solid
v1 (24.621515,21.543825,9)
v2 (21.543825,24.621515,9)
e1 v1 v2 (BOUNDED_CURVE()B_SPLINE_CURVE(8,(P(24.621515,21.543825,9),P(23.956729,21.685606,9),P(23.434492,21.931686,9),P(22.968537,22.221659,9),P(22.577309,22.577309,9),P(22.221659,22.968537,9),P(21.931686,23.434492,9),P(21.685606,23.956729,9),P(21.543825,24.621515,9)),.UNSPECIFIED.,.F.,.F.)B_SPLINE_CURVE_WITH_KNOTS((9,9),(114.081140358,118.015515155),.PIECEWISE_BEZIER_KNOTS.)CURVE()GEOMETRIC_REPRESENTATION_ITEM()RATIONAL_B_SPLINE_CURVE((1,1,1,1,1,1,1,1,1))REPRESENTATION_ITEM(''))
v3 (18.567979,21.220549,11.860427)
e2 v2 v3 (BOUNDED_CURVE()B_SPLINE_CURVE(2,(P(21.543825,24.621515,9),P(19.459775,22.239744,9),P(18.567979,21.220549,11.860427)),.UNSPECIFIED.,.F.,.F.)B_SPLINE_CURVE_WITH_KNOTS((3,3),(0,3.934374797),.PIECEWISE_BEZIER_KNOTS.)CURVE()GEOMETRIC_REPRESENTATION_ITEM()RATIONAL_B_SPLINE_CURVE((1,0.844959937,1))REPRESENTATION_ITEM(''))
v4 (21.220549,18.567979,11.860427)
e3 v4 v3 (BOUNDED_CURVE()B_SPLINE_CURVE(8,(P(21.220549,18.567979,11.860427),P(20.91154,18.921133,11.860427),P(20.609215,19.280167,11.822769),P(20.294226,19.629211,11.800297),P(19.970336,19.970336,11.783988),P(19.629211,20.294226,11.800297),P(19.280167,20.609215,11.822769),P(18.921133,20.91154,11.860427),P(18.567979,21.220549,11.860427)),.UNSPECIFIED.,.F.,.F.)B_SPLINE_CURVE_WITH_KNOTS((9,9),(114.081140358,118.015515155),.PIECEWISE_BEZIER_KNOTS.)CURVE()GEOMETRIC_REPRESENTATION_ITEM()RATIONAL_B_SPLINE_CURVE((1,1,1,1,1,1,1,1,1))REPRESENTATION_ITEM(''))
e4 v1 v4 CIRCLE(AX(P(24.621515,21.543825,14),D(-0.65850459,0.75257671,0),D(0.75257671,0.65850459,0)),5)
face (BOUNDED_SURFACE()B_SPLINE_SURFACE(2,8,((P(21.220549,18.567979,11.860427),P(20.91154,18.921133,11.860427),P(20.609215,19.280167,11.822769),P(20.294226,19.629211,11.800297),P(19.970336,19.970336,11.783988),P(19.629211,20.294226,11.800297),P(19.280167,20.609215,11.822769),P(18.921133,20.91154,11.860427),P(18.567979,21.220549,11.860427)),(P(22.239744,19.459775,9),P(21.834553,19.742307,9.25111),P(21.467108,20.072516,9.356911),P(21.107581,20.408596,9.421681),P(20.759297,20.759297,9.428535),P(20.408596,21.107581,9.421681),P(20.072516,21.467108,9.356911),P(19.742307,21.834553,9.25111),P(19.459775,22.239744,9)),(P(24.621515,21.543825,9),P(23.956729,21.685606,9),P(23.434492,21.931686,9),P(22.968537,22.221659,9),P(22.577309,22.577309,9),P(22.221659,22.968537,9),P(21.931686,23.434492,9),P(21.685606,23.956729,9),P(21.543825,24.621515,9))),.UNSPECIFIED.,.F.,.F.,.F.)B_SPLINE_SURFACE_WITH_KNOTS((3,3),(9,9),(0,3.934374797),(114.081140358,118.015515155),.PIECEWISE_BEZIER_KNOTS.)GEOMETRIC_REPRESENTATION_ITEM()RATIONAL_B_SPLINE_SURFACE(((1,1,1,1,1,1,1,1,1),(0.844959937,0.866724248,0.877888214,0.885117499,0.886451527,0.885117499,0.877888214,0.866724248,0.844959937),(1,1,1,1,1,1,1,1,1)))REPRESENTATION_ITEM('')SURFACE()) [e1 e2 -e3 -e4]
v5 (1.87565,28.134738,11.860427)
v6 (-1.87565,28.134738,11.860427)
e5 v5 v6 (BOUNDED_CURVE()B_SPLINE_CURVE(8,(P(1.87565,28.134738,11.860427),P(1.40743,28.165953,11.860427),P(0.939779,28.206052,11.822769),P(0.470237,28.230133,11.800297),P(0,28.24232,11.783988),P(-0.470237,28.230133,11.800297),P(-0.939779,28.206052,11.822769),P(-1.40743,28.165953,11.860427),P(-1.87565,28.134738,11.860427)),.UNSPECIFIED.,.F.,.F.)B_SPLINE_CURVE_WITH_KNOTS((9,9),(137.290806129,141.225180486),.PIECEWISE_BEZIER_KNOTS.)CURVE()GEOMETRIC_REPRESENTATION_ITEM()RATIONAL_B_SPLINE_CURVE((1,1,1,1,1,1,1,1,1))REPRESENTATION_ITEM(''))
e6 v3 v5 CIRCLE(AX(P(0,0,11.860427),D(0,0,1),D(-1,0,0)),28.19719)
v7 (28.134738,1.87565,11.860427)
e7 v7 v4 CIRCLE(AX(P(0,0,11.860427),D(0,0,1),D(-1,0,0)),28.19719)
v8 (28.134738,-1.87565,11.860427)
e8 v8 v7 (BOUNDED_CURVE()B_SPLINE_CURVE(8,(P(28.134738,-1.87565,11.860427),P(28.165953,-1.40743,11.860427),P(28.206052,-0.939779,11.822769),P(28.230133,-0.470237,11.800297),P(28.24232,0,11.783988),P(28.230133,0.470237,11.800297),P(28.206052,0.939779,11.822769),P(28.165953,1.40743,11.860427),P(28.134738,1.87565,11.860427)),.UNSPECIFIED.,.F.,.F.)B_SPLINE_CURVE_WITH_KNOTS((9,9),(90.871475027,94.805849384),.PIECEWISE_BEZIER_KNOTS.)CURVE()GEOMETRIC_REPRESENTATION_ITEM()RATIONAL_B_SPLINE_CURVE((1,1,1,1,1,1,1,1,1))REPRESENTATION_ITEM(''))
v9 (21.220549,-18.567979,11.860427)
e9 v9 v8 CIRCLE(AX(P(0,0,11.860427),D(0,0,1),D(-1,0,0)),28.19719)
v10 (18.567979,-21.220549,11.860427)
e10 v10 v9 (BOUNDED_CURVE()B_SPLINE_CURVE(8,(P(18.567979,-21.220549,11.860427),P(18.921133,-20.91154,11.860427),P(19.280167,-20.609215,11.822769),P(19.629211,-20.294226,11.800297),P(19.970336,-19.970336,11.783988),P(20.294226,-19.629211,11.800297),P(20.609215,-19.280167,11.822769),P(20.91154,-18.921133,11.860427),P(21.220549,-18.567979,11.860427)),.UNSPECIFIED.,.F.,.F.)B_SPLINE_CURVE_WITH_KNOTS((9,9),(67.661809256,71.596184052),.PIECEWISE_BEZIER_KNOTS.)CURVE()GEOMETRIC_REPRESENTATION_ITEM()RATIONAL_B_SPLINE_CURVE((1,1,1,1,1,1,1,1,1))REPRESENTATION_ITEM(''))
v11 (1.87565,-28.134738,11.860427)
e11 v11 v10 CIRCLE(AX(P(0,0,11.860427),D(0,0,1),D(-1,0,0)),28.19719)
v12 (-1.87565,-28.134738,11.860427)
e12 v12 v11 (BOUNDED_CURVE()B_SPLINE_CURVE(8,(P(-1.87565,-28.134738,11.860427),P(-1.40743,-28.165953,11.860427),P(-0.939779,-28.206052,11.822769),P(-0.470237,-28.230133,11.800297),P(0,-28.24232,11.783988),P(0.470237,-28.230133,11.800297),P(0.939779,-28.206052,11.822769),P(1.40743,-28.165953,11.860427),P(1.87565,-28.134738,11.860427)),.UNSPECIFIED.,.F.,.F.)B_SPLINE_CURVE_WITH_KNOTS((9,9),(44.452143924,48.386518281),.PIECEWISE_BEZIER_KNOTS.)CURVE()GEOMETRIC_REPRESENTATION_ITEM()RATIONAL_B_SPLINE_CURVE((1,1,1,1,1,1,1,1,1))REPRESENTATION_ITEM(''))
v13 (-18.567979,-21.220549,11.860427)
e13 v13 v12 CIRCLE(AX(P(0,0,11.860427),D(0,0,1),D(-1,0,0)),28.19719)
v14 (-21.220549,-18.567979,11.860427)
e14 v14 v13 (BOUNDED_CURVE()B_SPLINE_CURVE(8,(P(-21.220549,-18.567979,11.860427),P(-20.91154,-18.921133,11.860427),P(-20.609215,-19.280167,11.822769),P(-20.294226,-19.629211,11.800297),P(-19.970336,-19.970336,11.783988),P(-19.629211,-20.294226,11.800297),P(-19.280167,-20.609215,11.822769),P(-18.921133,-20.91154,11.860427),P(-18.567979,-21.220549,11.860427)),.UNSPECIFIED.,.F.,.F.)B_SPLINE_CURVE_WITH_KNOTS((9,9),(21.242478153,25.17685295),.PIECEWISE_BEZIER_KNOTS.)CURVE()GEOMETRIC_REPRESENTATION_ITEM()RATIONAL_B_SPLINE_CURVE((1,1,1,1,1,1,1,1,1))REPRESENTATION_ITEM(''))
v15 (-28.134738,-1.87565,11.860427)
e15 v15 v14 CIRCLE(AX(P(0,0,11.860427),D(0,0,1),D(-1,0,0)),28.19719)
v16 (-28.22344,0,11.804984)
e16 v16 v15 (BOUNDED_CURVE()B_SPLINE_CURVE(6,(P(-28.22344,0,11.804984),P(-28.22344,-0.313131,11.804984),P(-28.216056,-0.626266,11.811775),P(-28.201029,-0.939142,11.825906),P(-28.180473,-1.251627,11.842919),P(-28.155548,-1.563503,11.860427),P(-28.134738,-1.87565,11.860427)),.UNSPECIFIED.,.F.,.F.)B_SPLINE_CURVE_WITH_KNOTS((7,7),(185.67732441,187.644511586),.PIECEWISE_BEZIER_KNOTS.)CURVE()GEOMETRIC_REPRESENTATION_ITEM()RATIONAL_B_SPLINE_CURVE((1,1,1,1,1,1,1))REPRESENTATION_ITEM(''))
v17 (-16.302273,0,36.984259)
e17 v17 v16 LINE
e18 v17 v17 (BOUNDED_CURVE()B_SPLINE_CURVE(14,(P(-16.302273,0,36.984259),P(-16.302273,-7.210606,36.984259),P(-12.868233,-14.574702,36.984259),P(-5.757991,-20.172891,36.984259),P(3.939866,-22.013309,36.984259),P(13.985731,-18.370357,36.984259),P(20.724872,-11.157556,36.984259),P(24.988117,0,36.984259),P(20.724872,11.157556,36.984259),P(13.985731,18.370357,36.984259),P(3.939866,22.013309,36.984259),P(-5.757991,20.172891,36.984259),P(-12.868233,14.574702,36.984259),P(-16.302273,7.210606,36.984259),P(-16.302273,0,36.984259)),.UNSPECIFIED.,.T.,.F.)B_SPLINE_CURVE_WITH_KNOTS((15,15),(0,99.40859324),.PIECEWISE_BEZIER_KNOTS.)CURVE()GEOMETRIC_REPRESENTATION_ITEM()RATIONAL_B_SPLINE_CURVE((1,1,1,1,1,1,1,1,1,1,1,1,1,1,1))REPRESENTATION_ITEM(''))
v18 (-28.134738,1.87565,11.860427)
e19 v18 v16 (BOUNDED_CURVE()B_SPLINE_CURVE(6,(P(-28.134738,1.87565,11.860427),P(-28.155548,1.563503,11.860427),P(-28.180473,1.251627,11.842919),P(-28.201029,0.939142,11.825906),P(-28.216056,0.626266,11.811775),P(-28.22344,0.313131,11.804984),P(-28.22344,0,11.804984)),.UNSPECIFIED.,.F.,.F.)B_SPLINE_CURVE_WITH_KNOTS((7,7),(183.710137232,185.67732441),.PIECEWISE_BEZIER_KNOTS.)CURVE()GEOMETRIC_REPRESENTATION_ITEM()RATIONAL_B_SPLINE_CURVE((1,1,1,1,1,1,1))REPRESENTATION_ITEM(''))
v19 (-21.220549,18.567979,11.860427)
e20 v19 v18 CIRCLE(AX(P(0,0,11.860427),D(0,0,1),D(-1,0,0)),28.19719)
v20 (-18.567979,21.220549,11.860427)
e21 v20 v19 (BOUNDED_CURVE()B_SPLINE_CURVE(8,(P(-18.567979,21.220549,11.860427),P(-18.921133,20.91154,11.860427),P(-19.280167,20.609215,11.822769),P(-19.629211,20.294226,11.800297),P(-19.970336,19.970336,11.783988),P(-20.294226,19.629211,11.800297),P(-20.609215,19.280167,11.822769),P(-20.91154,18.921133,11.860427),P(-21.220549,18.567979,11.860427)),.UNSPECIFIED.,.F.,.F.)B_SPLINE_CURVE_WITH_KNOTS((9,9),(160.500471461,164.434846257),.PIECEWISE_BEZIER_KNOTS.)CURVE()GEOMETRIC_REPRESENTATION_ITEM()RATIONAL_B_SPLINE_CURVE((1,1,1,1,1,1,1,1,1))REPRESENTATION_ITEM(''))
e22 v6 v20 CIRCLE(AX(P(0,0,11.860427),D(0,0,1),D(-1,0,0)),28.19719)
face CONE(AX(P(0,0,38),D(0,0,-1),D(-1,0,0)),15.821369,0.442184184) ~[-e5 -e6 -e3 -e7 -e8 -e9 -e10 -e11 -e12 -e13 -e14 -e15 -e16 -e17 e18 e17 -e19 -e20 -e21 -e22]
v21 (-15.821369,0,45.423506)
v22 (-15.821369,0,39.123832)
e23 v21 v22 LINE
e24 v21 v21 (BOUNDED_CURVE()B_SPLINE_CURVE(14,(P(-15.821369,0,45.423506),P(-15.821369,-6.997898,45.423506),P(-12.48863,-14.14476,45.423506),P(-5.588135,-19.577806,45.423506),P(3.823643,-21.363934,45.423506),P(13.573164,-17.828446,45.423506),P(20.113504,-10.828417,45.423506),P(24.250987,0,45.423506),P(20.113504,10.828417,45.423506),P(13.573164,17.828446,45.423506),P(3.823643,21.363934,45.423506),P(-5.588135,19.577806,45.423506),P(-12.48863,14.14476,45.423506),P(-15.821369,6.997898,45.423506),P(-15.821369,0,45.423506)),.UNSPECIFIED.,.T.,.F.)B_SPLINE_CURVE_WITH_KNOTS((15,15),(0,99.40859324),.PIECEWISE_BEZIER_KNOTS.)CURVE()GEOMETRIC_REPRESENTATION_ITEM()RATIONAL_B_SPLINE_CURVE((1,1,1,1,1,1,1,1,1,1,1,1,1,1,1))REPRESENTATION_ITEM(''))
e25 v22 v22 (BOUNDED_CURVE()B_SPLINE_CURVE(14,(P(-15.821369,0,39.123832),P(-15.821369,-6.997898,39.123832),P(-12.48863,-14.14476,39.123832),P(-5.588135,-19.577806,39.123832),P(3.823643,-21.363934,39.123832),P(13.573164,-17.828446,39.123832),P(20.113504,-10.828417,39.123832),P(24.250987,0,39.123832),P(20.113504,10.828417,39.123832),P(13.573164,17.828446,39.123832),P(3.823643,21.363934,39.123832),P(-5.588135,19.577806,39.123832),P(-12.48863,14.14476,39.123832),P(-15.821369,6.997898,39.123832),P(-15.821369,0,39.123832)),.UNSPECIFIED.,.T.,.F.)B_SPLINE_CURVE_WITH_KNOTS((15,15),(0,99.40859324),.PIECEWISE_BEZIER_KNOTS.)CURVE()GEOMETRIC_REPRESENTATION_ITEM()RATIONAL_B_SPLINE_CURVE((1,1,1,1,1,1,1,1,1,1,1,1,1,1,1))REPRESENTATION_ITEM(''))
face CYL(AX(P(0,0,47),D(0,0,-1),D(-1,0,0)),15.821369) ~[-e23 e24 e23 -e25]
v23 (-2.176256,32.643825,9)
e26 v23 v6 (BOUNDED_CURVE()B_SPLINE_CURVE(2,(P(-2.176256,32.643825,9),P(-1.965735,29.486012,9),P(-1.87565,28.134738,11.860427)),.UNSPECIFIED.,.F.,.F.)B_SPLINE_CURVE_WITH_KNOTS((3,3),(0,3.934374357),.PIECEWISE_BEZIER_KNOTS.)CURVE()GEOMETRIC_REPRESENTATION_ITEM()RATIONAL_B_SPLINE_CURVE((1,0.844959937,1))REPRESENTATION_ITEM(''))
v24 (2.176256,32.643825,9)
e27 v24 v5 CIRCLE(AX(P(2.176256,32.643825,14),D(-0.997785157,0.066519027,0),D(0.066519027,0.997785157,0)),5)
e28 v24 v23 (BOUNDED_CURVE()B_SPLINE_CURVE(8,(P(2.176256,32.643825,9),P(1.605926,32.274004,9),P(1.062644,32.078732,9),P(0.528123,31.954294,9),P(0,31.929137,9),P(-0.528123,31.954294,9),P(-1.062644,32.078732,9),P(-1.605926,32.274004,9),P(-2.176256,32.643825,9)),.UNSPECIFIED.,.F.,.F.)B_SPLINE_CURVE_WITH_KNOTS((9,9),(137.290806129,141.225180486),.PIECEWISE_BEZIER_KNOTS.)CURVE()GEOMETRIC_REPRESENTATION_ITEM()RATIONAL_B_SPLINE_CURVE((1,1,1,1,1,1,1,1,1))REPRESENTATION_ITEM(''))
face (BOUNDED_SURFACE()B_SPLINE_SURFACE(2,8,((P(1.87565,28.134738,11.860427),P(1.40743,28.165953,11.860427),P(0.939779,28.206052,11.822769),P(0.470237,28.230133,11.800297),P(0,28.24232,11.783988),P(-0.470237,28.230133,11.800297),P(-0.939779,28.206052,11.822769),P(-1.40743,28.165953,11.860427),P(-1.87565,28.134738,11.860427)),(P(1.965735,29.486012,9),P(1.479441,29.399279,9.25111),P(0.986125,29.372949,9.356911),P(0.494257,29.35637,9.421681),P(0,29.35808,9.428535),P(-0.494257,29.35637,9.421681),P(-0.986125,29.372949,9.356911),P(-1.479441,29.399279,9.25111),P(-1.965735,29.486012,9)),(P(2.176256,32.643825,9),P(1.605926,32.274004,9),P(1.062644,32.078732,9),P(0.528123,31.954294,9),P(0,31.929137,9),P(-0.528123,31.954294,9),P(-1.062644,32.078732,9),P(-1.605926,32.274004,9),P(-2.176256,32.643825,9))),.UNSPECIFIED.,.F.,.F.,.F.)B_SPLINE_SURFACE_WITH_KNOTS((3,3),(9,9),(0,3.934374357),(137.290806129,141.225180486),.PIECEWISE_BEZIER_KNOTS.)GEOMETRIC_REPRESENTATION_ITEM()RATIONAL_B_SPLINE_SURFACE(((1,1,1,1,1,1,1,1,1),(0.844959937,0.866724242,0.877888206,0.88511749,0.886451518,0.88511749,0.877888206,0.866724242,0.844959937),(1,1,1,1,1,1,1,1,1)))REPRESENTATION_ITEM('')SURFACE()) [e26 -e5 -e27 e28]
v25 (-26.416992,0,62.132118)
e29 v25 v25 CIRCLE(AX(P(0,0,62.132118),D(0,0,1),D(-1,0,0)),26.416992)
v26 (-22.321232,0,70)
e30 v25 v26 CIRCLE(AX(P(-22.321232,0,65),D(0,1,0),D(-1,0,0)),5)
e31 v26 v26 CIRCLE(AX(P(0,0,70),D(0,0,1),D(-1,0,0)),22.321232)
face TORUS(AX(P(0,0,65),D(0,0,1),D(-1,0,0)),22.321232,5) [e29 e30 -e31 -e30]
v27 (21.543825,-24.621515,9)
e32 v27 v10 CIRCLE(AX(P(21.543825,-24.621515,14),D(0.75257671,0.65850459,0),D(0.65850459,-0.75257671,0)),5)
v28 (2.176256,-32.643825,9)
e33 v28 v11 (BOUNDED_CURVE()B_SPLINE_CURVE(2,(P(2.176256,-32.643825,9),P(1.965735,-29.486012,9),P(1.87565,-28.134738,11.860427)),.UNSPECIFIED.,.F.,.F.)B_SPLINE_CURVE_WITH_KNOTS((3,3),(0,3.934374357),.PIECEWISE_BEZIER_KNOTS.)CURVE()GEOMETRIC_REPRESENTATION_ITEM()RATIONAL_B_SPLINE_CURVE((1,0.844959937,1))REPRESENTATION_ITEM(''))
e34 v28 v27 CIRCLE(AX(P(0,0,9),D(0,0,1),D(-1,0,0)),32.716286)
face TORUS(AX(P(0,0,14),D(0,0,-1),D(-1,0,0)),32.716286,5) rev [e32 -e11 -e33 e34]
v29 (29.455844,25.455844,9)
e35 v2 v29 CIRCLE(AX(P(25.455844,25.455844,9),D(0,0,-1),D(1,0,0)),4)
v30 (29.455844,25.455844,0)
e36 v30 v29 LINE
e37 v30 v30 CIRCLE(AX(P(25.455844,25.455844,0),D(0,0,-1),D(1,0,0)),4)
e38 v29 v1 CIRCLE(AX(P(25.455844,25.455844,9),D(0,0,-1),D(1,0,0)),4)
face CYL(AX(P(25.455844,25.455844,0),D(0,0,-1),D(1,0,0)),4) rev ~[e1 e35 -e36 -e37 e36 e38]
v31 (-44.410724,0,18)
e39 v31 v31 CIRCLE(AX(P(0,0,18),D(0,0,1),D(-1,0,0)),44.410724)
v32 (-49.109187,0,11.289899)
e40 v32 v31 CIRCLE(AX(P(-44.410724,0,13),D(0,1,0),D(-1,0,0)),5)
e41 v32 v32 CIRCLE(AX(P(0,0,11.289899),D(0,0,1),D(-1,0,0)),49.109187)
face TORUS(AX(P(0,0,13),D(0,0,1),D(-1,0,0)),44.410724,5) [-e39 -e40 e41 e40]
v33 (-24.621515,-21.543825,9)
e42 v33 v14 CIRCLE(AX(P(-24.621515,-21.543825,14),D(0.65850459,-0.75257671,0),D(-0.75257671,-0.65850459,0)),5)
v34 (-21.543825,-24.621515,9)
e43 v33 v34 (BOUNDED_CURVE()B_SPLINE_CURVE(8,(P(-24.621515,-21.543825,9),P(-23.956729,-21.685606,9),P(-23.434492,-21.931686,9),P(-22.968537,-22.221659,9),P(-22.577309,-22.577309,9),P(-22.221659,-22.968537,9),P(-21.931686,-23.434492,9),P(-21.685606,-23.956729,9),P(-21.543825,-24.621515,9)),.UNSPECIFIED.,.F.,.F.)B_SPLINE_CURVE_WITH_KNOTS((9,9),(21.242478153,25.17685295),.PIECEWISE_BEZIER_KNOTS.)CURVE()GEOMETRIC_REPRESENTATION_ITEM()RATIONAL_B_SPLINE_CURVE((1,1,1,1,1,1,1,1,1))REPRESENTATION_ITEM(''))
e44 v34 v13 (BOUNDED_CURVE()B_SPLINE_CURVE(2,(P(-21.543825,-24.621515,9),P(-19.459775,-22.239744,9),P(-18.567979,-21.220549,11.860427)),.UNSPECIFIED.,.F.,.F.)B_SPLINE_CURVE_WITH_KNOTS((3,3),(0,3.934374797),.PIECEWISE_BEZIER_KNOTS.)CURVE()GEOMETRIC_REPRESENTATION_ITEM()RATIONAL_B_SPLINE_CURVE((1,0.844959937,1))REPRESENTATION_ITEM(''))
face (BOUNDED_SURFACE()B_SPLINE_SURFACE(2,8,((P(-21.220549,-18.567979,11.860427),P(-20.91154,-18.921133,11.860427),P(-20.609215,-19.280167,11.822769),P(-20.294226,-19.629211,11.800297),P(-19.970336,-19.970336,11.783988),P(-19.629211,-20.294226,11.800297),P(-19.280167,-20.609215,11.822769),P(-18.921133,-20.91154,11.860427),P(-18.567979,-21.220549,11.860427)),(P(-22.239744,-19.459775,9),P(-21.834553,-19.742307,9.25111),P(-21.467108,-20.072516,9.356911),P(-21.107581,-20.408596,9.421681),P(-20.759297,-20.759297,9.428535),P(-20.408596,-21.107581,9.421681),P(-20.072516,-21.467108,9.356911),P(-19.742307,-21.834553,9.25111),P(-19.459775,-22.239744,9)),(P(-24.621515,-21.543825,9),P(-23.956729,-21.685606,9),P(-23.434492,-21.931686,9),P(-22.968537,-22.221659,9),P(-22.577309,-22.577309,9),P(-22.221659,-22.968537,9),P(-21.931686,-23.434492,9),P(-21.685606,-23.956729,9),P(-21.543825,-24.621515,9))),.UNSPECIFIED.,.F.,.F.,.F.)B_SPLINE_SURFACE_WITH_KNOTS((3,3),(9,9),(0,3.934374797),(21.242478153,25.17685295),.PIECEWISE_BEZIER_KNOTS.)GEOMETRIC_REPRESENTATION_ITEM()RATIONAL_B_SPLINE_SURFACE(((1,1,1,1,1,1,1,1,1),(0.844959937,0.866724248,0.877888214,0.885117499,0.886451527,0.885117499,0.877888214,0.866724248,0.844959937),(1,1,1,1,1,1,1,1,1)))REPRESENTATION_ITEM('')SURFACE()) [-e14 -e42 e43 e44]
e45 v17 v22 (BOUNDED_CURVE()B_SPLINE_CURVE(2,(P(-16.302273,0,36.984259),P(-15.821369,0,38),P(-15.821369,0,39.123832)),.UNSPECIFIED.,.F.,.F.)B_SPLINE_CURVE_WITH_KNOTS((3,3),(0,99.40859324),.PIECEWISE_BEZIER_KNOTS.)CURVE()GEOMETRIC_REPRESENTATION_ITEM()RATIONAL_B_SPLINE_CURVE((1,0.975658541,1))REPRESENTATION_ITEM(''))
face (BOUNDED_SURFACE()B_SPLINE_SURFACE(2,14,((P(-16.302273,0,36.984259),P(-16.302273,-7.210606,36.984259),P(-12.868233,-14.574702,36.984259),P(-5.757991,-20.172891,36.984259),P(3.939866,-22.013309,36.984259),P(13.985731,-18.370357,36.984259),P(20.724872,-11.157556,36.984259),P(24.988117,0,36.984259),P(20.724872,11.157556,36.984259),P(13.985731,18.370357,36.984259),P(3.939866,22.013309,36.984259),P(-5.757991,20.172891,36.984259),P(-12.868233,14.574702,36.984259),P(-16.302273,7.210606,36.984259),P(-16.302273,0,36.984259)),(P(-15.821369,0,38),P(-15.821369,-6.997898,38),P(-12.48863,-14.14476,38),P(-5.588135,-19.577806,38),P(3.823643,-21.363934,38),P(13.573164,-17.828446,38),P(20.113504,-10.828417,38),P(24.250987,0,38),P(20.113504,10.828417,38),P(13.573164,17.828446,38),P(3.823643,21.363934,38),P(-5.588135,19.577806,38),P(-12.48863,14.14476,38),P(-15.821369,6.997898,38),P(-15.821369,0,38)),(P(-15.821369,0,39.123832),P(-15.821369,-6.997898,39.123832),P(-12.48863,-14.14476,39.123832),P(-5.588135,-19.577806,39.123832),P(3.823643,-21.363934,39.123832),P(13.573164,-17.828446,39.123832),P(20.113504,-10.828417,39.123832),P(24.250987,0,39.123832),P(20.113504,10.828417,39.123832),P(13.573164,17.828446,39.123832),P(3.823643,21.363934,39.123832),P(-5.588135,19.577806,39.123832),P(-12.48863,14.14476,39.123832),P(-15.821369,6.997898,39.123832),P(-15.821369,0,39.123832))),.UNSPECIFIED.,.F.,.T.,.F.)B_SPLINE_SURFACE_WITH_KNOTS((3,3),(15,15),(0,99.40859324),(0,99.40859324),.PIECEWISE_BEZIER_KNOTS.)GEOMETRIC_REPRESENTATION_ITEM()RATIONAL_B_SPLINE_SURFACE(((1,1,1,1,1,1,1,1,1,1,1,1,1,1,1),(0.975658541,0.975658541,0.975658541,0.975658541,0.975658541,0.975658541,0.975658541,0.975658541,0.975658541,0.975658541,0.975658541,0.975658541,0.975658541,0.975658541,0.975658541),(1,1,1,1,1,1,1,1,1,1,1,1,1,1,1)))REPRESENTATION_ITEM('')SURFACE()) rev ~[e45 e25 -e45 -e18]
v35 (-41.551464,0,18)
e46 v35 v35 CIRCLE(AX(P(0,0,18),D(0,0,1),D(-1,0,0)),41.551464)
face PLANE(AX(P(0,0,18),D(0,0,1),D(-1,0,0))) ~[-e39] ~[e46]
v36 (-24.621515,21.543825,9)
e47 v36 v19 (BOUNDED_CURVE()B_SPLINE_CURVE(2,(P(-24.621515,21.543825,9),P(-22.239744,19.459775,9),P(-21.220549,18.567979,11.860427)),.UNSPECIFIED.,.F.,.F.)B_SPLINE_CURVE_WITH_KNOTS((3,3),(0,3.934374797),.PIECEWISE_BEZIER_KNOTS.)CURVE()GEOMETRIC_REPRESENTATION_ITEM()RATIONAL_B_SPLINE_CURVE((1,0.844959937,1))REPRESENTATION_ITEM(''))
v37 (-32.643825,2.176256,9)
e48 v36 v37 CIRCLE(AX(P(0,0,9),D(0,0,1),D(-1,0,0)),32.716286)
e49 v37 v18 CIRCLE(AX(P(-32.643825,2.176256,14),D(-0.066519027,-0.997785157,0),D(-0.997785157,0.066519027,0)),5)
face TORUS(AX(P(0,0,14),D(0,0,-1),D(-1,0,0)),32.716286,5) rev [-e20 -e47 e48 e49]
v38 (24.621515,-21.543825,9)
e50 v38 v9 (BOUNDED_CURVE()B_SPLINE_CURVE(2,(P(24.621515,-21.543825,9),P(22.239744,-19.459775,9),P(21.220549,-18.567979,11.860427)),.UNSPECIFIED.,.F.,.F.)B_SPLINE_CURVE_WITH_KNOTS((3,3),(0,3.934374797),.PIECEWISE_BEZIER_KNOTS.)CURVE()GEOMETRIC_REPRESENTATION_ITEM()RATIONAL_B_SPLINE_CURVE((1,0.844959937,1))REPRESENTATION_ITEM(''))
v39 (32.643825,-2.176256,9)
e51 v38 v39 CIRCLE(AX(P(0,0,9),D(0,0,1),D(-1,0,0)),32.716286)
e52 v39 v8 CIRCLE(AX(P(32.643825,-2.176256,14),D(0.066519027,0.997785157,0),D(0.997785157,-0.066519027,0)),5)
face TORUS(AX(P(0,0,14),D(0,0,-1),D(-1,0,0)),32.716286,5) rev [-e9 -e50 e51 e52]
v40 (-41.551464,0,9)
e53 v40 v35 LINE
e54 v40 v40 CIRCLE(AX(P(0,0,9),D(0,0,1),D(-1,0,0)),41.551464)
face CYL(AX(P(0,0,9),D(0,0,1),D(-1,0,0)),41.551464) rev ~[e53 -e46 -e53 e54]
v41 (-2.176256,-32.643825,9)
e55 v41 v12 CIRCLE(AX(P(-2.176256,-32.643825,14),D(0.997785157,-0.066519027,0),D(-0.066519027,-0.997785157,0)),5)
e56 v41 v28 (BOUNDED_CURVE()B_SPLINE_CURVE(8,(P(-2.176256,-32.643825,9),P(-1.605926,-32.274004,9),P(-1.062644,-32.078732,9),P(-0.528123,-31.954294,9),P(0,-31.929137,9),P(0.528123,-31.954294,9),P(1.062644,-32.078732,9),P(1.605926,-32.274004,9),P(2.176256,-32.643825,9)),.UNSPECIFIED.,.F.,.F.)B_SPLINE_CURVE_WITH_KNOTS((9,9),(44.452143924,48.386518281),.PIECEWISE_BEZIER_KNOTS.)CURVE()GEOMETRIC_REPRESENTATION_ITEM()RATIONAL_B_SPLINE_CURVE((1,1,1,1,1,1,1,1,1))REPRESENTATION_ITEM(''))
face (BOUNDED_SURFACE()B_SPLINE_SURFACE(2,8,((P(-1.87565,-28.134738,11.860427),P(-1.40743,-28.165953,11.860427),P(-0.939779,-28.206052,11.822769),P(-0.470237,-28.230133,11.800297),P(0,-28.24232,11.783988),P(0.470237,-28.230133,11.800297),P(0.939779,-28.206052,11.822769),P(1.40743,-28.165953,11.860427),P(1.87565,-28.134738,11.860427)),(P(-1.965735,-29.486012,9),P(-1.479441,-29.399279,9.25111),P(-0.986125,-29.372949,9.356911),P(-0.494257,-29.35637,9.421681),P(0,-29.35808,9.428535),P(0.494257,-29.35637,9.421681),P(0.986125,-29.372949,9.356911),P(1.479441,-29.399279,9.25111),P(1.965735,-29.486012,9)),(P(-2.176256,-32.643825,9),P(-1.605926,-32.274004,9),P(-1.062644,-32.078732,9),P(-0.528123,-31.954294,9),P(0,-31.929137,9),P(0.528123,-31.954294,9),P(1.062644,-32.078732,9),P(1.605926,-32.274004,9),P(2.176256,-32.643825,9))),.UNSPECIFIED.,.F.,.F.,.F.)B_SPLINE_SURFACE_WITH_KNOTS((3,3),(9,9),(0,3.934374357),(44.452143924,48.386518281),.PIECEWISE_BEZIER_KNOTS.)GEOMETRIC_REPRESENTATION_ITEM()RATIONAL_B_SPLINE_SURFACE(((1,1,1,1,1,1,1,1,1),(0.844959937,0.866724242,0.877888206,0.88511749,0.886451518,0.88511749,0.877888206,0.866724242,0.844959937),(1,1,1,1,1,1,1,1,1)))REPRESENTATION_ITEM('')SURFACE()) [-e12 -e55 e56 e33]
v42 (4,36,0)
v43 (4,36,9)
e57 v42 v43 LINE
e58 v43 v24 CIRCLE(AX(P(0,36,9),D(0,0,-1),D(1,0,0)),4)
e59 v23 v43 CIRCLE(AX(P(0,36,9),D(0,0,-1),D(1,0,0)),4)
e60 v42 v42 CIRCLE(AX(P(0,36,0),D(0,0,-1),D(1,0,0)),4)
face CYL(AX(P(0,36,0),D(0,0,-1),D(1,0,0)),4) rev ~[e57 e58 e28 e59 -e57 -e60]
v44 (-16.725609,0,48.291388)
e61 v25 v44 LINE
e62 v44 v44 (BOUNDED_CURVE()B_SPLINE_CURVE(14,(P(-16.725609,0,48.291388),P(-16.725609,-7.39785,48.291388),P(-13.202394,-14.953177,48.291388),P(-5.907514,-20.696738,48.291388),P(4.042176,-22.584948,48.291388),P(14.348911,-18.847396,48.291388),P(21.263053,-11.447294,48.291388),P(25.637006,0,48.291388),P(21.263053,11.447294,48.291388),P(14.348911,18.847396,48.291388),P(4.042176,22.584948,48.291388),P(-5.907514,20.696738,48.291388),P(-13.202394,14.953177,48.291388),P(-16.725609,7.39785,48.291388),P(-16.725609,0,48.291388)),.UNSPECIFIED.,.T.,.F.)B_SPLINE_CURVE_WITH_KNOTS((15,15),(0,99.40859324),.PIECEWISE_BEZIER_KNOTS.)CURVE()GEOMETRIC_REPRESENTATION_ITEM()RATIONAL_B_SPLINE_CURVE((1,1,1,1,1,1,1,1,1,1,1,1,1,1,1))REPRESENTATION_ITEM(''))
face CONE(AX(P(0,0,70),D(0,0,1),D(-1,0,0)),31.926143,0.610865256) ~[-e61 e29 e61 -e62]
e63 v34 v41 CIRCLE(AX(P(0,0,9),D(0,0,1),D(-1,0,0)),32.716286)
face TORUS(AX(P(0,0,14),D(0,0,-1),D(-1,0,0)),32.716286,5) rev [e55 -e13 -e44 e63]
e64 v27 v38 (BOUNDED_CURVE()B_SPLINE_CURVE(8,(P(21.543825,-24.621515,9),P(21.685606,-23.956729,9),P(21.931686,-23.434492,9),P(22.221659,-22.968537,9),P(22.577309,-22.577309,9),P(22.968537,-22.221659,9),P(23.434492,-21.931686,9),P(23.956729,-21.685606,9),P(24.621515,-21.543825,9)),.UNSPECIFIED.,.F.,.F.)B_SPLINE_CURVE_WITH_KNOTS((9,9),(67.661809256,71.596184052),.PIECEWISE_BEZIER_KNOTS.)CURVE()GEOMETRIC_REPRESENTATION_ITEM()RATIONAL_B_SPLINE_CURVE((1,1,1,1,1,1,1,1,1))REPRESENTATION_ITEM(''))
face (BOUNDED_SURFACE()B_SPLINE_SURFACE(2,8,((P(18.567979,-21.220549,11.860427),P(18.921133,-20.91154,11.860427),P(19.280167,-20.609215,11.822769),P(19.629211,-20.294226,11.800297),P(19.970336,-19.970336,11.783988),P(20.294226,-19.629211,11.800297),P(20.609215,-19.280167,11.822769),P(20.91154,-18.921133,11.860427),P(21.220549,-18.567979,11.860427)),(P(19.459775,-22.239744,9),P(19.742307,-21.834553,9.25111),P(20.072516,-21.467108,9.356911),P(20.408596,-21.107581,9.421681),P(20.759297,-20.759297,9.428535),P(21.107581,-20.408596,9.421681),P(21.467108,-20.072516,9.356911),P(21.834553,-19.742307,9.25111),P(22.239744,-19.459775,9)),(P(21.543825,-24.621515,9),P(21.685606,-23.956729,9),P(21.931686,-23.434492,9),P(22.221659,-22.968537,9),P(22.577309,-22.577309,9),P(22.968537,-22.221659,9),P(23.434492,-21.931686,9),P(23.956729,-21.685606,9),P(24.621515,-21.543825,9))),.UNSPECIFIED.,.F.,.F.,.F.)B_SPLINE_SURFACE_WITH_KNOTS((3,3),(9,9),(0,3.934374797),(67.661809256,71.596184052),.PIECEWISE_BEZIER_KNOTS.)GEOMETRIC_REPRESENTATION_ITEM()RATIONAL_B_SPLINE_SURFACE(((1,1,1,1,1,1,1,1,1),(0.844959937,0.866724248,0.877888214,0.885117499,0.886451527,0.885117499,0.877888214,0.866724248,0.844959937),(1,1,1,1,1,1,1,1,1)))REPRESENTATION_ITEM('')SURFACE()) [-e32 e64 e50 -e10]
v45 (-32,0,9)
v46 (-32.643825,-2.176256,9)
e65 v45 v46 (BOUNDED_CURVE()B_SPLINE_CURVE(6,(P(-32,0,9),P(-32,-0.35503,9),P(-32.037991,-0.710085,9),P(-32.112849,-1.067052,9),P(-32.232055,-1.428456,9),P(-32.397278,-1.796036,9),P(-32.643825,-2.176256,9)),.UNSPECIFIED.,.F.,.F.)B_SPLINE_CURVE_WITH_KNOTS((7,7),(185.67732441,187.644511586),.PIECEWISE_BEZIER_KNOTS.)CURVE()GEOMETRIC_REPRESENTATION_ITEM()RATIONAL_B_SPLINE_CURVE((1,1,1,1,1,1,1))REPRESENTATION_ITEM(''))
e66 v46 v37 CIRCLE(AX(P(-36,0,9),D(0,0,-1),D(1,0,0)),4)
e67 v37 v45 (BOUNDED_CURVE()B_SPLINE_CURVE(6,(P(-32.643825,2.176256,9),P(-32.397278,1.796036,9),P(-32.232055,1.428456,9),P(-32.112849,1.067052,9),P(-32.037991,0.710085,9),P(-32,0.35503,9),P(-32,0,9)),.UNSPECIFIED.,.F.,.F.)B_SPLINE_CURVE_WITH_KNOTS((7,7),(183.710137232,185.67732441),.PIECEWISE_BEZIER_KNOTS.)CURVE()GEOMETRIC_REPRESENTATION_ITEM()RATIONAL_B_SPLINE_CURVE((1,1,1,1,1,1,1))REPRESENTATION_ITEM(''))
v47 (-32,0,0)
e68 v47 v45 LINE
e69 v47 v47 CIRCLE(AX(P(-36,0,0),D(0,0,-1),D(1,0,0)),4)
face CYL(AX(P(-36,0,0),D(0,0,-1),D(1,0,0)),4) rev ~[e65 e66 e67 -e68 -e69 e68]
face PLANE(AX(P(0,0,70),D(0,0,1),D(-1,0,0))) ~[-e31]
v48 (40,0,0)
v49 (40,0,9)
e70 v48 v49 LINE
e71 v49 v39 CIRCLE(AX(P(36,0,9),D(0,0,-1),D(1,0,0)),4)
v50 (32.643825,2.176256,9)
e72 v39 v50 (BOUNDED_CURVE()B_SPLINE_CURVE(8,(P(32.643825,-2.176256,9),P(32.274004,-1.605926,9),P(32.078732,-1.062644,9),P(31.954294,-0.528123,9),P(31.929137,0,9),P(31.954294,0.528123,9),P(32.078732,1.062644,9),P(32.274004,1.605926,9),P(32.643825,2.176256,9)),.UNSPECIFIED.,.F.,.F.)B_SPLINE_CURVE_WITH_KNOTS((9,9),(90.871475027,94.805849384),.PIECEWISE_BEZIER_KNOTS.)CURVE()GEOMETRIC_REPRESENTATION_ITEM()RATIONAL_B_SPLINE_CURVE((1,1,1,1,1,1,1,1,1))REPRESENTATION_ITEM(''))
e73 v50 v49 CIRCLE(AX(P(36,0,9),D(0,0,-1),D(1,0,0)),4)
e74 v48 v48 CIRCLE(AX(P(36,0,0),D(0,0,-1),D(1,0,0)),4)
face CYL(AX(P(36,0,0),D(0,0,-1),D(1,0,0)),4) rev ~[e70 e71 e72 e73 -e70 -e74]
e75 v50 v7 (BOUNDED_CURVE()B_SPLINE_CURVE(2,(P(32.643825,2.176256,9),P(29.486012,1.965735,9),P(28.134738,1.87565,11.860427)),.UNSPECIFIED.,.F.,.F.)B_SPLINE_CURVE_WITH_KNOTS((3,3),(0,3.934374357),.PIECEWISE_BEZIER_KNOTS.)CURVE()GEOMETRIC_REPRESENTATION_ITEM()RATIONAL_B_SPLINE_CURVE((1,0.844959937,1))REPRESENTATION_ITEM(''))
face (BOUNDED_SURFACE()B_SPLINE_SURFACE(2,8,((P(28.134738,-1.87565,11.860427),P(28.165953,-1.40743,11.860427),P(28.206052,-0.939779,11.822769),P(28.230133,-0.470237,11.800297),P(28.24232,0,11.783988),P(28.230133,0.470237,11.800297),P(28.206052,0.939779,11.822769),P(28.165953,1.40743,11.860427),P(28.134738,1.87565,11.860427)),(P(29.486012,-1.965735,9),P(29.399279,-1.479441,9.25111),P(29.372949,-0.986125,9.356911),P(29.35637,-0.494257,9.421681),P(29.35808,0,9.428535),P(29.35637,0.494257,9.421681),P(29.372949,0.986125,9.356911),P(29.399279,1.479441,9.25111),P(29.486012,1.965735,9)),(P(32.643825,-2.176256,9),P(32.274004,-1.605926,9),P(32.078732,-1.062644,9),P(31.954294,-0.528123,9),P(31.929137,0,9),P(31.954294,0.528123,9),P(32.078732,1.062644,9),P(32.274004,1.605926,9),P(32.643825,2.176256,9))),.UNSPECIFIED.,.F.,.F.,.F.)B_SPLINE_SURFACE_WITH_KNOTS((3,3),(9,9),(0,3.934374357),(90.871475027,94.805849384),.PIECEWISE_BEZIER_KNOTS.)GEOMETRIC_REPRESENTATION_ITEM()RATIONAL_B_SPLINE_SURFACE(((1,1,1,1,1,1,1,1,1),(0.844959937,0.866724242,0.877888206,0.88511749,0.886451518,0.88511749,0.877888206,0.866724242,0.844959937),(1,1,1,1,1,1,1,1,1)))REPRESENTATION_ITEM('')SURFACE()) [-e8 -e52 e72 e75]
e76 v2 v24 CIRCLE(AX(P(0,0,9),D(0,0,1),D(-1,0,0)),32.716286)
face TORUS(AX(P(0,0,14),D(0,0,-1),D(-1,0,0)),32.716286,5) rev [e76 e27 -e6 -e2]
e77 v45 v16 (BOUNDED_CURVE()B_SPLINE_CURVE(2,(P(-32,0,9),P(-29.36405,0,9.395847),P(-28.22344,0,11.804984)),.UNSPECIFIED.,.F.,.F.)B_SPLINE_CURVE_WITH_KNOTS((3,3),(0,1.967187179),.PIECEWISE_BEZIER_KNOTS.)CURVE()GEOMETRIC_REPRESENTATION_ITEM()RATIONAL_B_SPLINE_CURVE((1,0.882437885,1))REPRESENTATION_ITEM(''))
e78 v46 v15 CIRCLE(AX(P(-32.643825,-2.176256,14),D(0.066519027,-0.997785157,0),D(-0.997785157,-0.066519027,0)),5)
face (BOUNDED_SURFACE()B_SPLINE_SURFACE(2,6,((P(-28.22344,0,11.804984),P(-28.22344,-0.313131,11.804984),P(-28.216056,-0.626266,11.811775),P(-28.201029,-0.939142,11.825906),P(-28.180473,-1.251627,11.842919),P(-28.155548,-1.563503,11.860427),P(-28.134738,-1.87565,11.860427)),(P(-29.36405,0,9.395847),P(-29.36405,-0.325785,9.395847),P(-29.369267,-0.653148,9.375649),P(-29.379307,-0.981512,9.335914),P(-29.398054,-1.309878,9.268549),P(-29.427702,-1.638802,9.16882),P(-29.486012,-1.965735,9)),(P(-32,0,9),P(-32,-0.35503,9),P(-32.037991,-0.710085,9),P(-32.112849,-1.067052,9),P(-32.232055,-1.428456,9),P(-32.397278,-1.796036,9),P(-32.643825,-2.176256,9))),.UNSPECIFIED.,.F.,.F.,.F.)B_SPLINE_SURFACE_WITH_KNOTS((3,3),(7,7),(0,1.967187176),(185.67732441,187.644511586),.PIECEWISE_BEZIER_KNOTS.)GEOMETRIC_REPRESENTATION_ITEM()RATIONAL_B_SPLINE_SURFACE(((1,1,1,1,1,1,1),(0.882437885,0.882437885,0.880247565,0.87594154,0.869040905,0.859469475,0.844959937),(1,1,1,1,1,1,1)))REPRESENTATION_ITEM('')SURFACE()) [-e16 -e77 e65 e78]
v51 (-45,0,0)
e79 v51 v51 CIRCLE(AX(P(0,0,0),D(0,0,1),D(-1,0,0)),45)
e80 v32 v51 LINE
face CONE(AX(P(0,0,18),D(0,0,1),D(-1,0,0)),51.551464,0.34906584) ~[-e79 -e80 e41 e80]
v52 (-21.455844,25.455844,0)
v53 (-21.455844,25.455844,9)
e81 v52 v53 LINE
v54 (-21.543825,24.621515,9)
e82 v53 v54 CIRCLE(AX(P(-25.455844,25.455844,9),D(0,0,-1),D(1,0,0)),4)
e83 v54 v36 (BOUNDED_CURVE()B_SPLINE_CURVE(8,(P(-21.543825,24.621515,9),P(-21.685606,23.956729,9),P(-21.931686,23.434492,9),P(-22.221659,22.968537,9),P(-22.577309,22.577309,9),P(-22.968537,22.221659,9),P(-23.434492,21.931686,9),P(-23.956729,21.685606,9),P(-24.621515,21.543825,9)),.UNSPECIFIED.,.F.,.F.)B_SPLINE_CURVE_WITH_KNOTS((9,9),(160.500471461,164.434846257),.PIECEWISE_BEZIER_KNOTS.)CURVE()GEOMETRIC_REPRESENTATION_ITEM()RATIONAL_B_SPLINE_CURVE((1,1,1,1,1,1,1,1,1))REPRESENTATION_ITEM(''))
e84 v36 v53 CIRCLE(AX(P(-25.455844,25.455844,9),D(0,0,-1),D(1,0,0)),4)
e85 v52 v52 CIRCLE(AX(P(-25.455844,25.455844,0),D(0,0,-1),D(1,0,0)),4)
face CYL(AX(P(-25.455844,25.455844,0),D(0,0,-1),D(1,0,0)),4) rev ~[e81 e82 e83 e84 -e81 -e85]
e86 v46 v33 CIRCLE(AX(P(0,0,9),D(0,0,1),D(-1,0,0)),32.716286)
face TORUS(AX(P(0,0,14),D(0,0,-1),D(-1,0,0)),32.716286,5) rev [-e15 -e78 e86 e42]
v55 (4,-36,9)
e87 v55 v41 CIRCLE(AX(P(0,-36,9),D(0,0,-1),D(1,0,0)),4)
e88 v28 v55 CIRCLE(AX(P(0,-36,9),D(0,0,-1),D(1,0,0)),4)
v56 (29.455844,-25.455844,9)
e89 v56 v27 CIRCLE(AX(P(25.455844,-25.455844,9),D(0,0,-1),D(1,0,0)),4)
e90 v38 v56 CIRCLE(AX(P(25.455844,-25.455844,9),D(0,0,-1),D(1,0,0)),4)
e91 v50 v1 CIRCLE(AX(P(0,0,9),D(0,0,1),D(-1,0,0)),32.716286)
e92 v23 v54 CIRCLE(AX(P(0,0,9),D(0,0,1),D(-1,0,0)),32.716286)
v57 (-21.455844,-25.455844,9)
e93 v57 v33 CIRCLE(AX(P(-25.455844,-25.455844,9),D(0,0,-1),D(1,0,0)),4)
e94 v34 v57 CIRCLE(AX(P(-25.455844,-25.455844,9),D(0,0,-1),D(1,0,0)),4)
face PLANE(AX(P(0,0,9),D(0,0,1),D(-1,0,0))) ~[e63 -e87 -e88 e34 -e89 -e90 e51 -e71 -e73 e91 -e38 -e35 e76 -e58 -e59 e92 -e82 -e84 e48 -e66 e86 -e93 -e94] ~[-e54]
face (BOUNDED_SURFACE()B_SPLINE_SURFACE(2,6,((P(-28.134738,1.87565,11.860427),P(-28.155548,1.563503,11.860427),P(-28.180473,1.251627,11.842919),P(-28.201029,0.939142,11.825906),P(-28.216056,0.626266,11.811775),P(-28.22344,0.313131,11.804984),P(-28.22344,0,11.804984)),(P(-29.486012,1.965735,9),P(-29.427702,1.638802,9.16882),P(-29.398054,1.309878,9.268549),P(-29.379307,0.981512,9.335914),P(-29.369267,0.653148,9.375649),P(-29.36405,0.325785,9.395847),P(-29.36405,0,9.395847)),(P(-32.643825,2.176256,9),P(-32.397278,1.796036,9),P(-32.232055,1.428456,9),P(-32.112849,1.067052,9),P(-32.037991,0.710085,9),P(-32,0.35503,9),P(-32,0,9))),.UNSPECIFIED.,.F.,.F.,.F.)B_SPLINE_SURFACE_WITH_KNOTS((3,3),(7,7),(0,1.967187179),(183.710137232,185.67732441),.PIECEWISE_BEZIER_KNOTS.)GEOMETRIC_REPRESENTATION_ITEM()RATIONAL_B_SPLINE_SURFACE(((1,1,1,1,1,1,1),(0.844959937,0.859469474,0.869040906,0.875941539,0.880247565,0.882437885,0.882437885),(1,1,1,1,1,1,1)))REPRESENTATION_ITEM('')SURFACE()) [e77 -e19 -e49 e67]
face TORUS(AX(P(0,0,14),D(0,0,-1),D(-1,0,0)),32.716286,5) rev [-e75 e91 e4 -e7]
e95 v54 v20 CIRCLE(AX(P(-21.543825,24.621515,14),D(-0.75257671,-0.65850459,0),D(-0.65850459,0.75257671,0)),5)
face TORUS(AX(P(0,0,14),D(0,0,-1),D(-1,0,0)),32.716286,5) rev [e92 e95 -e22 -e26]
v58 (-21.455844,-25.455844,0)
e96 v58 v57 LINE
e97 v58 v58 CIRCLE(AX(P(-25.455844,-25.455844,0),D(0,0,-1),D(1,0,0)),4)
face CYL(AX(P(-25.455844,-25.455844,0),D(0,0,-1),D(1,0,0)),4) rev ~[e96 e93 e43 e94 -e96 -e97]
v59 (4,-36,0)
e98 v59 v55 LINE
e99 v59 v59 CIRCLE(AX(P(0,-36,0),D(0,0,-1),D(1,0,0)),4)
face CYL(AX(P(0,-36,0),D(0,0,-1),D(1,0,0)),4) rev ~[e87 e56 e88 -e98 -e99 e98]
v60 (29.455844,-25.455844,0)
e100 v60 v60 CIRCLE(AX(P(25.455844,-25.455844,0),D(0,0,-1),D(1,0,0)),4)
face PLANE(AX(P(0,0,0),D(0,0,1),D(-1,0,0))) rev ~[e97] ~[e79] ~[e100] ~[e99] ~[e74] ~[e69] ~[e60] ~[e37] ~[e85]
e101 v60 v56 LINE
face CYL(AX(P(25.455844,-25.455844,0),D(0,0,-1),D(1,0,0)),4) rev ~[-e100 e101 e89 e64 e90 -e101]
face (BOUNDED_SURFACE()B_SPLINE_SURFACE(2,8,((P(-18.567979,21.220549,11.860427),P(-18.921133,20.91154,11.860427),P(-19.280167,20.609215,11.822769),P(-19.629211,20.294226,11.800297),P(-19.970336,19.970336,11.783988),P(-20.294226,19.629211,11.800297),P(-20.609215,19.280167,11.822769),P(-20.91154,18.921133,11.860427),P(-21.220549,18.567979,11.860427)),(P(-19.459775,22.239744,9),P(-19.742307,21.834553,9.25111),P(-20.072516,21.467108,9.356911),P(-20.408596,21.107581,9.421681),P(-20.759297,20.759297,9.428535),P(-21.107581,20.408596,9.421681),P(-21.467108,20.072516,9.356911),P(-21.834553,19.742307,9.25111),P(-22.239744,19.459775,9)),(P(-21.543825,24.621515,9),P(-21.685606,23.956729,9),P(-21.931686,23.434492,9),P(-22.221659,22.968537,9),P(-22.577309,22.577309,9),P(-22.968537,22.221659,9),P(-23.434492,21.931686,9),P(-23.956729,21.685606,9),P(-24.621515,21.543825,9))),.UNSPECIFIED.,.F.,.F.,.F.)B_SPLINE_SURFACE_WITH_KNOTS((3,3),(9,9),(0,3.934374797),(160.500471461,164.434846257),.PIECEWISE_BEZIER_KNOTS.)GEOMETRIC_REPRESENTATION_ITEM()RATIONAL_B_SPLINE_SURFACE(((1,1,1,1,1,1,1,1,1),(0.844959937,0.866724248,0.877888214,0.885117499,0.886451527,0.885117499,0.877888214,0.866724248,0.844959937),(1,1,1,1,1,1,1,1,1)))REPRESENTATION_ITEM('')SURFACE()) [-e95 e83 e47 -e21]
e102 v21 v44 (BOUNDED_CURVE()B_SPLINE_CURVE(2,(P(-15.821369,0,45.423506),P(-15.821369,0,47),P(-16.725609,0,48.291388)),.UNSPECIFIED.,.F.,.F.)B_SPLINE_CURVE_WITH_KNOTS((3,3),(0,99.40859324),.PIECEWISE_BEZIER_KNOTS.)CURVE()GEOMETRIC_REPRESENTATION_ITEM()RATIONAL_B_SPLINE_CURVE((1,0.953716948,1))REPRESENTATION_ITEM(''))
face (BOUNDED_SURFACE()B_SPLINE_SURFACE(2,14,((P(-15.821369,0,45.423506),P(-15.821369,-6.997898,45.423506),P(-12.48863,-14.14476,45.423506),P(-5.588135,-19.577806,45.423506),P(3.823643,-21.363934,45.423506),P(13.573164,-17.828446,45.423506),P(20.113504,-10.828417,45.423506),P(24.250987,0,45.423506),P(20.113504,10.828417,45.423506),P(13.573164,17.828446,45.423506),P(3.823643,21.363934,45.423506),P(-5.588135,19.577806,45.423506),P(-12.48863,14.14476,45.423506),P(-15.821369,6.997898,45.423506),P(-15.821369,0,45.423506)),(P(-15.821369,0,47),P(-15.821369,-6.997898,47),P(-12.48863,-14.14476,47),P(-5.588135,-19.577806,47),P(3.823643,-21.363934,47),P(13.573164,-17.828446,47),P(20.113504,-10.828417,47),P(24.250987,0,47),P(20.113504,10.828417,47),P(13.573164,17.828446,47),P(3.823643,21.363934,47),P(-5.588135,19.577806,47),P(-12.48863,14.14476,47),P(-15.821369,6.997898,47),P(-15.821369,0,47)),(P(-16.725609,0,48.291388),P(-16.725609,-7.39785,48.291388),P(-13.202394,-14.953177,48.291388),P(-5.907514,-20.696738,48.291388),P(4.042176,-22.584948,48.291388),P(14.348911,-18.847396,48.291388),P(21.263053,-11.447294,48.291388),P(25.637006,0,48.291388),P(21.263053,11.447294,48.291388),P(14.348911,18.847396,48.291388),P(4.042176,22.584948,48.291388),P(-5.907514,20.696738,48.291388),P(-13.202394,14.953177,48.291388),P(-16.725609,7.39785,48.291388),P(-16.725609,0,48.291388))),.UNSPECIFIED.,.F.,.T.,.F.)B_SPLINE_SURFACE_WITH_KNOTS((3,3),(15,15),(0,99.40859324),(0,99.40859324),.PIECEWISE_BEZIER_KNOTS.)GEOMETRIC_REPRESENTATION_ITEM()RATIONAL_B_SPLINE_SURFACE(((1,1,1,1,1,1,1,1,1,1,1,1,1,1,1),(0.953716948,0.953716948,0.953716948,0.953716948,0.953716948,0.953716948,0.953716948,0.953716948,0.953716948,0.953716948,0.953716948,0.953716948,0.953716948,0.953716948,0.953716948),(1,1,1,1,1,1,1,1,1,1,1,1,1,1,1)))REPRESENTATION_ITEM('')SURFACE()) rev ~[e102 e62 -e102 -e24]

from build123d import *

# Parameters (mm, degrees)
F2_R     = 4
F3_DEPTH = 70.001
F4_R     = 5


with BuildPart() as f1:
    # F0 (on Front) → F1 (revolve)
    with BuildSketch(Plane.XZ):
        Polygon((-45, 0), (0, 0), (0, 70), (-31.926143, 70), (-15.821369, 47), (-15.821369, 38), (-29.551464, 9), (-41.551464, 9), (-41.551464, 18), (-51.551464, 18), align=None)
    revolve(axis=Axis((0, 0, 35), (0, 0, 1)))

    # F2 (on face) → F3 (cut, through all)
    with BuildSketch(Plane(origin=(0, 0, 0), x_dir=(1, 0, 0), z_dir=(0, 0, -1))):
        with Locations((-36, 0)):
            Circle(F2_R)
        with Locations((-25.455844, -25.455844)):
            Circle(F2_R)
        with Locations((0, -36)):
            Circle(F2_R)
        with Locations((25.455844, -25.455844)):
            Circle(F2_R)
        with Locations((36, 0)):
            Circle(F2_R)
        with Locations((25.455844, 25.455844)):
            Circle(F2_R)
        with Locations((0, 36)):
            Circle(F2_R)
        with Locations((-25.455844, 25.455844)):
            Circle(F2_R)
    extrude(amount=-F3_DEPTH, mode=Mode.SUBTRACT)

    # F4
    f4_edges = [f1.edges().sort_by_distance(p)[0] for p in [
        (31.926143, 0, 70),
        (51.551464, 0, 18),
        (15.821369, 0, 47),
        (15.821369, 0, 38),
        (29.551464, 0, 9),
    ]]
    fillet(f4_edges, radius=F4_R)


solid = f1.part
